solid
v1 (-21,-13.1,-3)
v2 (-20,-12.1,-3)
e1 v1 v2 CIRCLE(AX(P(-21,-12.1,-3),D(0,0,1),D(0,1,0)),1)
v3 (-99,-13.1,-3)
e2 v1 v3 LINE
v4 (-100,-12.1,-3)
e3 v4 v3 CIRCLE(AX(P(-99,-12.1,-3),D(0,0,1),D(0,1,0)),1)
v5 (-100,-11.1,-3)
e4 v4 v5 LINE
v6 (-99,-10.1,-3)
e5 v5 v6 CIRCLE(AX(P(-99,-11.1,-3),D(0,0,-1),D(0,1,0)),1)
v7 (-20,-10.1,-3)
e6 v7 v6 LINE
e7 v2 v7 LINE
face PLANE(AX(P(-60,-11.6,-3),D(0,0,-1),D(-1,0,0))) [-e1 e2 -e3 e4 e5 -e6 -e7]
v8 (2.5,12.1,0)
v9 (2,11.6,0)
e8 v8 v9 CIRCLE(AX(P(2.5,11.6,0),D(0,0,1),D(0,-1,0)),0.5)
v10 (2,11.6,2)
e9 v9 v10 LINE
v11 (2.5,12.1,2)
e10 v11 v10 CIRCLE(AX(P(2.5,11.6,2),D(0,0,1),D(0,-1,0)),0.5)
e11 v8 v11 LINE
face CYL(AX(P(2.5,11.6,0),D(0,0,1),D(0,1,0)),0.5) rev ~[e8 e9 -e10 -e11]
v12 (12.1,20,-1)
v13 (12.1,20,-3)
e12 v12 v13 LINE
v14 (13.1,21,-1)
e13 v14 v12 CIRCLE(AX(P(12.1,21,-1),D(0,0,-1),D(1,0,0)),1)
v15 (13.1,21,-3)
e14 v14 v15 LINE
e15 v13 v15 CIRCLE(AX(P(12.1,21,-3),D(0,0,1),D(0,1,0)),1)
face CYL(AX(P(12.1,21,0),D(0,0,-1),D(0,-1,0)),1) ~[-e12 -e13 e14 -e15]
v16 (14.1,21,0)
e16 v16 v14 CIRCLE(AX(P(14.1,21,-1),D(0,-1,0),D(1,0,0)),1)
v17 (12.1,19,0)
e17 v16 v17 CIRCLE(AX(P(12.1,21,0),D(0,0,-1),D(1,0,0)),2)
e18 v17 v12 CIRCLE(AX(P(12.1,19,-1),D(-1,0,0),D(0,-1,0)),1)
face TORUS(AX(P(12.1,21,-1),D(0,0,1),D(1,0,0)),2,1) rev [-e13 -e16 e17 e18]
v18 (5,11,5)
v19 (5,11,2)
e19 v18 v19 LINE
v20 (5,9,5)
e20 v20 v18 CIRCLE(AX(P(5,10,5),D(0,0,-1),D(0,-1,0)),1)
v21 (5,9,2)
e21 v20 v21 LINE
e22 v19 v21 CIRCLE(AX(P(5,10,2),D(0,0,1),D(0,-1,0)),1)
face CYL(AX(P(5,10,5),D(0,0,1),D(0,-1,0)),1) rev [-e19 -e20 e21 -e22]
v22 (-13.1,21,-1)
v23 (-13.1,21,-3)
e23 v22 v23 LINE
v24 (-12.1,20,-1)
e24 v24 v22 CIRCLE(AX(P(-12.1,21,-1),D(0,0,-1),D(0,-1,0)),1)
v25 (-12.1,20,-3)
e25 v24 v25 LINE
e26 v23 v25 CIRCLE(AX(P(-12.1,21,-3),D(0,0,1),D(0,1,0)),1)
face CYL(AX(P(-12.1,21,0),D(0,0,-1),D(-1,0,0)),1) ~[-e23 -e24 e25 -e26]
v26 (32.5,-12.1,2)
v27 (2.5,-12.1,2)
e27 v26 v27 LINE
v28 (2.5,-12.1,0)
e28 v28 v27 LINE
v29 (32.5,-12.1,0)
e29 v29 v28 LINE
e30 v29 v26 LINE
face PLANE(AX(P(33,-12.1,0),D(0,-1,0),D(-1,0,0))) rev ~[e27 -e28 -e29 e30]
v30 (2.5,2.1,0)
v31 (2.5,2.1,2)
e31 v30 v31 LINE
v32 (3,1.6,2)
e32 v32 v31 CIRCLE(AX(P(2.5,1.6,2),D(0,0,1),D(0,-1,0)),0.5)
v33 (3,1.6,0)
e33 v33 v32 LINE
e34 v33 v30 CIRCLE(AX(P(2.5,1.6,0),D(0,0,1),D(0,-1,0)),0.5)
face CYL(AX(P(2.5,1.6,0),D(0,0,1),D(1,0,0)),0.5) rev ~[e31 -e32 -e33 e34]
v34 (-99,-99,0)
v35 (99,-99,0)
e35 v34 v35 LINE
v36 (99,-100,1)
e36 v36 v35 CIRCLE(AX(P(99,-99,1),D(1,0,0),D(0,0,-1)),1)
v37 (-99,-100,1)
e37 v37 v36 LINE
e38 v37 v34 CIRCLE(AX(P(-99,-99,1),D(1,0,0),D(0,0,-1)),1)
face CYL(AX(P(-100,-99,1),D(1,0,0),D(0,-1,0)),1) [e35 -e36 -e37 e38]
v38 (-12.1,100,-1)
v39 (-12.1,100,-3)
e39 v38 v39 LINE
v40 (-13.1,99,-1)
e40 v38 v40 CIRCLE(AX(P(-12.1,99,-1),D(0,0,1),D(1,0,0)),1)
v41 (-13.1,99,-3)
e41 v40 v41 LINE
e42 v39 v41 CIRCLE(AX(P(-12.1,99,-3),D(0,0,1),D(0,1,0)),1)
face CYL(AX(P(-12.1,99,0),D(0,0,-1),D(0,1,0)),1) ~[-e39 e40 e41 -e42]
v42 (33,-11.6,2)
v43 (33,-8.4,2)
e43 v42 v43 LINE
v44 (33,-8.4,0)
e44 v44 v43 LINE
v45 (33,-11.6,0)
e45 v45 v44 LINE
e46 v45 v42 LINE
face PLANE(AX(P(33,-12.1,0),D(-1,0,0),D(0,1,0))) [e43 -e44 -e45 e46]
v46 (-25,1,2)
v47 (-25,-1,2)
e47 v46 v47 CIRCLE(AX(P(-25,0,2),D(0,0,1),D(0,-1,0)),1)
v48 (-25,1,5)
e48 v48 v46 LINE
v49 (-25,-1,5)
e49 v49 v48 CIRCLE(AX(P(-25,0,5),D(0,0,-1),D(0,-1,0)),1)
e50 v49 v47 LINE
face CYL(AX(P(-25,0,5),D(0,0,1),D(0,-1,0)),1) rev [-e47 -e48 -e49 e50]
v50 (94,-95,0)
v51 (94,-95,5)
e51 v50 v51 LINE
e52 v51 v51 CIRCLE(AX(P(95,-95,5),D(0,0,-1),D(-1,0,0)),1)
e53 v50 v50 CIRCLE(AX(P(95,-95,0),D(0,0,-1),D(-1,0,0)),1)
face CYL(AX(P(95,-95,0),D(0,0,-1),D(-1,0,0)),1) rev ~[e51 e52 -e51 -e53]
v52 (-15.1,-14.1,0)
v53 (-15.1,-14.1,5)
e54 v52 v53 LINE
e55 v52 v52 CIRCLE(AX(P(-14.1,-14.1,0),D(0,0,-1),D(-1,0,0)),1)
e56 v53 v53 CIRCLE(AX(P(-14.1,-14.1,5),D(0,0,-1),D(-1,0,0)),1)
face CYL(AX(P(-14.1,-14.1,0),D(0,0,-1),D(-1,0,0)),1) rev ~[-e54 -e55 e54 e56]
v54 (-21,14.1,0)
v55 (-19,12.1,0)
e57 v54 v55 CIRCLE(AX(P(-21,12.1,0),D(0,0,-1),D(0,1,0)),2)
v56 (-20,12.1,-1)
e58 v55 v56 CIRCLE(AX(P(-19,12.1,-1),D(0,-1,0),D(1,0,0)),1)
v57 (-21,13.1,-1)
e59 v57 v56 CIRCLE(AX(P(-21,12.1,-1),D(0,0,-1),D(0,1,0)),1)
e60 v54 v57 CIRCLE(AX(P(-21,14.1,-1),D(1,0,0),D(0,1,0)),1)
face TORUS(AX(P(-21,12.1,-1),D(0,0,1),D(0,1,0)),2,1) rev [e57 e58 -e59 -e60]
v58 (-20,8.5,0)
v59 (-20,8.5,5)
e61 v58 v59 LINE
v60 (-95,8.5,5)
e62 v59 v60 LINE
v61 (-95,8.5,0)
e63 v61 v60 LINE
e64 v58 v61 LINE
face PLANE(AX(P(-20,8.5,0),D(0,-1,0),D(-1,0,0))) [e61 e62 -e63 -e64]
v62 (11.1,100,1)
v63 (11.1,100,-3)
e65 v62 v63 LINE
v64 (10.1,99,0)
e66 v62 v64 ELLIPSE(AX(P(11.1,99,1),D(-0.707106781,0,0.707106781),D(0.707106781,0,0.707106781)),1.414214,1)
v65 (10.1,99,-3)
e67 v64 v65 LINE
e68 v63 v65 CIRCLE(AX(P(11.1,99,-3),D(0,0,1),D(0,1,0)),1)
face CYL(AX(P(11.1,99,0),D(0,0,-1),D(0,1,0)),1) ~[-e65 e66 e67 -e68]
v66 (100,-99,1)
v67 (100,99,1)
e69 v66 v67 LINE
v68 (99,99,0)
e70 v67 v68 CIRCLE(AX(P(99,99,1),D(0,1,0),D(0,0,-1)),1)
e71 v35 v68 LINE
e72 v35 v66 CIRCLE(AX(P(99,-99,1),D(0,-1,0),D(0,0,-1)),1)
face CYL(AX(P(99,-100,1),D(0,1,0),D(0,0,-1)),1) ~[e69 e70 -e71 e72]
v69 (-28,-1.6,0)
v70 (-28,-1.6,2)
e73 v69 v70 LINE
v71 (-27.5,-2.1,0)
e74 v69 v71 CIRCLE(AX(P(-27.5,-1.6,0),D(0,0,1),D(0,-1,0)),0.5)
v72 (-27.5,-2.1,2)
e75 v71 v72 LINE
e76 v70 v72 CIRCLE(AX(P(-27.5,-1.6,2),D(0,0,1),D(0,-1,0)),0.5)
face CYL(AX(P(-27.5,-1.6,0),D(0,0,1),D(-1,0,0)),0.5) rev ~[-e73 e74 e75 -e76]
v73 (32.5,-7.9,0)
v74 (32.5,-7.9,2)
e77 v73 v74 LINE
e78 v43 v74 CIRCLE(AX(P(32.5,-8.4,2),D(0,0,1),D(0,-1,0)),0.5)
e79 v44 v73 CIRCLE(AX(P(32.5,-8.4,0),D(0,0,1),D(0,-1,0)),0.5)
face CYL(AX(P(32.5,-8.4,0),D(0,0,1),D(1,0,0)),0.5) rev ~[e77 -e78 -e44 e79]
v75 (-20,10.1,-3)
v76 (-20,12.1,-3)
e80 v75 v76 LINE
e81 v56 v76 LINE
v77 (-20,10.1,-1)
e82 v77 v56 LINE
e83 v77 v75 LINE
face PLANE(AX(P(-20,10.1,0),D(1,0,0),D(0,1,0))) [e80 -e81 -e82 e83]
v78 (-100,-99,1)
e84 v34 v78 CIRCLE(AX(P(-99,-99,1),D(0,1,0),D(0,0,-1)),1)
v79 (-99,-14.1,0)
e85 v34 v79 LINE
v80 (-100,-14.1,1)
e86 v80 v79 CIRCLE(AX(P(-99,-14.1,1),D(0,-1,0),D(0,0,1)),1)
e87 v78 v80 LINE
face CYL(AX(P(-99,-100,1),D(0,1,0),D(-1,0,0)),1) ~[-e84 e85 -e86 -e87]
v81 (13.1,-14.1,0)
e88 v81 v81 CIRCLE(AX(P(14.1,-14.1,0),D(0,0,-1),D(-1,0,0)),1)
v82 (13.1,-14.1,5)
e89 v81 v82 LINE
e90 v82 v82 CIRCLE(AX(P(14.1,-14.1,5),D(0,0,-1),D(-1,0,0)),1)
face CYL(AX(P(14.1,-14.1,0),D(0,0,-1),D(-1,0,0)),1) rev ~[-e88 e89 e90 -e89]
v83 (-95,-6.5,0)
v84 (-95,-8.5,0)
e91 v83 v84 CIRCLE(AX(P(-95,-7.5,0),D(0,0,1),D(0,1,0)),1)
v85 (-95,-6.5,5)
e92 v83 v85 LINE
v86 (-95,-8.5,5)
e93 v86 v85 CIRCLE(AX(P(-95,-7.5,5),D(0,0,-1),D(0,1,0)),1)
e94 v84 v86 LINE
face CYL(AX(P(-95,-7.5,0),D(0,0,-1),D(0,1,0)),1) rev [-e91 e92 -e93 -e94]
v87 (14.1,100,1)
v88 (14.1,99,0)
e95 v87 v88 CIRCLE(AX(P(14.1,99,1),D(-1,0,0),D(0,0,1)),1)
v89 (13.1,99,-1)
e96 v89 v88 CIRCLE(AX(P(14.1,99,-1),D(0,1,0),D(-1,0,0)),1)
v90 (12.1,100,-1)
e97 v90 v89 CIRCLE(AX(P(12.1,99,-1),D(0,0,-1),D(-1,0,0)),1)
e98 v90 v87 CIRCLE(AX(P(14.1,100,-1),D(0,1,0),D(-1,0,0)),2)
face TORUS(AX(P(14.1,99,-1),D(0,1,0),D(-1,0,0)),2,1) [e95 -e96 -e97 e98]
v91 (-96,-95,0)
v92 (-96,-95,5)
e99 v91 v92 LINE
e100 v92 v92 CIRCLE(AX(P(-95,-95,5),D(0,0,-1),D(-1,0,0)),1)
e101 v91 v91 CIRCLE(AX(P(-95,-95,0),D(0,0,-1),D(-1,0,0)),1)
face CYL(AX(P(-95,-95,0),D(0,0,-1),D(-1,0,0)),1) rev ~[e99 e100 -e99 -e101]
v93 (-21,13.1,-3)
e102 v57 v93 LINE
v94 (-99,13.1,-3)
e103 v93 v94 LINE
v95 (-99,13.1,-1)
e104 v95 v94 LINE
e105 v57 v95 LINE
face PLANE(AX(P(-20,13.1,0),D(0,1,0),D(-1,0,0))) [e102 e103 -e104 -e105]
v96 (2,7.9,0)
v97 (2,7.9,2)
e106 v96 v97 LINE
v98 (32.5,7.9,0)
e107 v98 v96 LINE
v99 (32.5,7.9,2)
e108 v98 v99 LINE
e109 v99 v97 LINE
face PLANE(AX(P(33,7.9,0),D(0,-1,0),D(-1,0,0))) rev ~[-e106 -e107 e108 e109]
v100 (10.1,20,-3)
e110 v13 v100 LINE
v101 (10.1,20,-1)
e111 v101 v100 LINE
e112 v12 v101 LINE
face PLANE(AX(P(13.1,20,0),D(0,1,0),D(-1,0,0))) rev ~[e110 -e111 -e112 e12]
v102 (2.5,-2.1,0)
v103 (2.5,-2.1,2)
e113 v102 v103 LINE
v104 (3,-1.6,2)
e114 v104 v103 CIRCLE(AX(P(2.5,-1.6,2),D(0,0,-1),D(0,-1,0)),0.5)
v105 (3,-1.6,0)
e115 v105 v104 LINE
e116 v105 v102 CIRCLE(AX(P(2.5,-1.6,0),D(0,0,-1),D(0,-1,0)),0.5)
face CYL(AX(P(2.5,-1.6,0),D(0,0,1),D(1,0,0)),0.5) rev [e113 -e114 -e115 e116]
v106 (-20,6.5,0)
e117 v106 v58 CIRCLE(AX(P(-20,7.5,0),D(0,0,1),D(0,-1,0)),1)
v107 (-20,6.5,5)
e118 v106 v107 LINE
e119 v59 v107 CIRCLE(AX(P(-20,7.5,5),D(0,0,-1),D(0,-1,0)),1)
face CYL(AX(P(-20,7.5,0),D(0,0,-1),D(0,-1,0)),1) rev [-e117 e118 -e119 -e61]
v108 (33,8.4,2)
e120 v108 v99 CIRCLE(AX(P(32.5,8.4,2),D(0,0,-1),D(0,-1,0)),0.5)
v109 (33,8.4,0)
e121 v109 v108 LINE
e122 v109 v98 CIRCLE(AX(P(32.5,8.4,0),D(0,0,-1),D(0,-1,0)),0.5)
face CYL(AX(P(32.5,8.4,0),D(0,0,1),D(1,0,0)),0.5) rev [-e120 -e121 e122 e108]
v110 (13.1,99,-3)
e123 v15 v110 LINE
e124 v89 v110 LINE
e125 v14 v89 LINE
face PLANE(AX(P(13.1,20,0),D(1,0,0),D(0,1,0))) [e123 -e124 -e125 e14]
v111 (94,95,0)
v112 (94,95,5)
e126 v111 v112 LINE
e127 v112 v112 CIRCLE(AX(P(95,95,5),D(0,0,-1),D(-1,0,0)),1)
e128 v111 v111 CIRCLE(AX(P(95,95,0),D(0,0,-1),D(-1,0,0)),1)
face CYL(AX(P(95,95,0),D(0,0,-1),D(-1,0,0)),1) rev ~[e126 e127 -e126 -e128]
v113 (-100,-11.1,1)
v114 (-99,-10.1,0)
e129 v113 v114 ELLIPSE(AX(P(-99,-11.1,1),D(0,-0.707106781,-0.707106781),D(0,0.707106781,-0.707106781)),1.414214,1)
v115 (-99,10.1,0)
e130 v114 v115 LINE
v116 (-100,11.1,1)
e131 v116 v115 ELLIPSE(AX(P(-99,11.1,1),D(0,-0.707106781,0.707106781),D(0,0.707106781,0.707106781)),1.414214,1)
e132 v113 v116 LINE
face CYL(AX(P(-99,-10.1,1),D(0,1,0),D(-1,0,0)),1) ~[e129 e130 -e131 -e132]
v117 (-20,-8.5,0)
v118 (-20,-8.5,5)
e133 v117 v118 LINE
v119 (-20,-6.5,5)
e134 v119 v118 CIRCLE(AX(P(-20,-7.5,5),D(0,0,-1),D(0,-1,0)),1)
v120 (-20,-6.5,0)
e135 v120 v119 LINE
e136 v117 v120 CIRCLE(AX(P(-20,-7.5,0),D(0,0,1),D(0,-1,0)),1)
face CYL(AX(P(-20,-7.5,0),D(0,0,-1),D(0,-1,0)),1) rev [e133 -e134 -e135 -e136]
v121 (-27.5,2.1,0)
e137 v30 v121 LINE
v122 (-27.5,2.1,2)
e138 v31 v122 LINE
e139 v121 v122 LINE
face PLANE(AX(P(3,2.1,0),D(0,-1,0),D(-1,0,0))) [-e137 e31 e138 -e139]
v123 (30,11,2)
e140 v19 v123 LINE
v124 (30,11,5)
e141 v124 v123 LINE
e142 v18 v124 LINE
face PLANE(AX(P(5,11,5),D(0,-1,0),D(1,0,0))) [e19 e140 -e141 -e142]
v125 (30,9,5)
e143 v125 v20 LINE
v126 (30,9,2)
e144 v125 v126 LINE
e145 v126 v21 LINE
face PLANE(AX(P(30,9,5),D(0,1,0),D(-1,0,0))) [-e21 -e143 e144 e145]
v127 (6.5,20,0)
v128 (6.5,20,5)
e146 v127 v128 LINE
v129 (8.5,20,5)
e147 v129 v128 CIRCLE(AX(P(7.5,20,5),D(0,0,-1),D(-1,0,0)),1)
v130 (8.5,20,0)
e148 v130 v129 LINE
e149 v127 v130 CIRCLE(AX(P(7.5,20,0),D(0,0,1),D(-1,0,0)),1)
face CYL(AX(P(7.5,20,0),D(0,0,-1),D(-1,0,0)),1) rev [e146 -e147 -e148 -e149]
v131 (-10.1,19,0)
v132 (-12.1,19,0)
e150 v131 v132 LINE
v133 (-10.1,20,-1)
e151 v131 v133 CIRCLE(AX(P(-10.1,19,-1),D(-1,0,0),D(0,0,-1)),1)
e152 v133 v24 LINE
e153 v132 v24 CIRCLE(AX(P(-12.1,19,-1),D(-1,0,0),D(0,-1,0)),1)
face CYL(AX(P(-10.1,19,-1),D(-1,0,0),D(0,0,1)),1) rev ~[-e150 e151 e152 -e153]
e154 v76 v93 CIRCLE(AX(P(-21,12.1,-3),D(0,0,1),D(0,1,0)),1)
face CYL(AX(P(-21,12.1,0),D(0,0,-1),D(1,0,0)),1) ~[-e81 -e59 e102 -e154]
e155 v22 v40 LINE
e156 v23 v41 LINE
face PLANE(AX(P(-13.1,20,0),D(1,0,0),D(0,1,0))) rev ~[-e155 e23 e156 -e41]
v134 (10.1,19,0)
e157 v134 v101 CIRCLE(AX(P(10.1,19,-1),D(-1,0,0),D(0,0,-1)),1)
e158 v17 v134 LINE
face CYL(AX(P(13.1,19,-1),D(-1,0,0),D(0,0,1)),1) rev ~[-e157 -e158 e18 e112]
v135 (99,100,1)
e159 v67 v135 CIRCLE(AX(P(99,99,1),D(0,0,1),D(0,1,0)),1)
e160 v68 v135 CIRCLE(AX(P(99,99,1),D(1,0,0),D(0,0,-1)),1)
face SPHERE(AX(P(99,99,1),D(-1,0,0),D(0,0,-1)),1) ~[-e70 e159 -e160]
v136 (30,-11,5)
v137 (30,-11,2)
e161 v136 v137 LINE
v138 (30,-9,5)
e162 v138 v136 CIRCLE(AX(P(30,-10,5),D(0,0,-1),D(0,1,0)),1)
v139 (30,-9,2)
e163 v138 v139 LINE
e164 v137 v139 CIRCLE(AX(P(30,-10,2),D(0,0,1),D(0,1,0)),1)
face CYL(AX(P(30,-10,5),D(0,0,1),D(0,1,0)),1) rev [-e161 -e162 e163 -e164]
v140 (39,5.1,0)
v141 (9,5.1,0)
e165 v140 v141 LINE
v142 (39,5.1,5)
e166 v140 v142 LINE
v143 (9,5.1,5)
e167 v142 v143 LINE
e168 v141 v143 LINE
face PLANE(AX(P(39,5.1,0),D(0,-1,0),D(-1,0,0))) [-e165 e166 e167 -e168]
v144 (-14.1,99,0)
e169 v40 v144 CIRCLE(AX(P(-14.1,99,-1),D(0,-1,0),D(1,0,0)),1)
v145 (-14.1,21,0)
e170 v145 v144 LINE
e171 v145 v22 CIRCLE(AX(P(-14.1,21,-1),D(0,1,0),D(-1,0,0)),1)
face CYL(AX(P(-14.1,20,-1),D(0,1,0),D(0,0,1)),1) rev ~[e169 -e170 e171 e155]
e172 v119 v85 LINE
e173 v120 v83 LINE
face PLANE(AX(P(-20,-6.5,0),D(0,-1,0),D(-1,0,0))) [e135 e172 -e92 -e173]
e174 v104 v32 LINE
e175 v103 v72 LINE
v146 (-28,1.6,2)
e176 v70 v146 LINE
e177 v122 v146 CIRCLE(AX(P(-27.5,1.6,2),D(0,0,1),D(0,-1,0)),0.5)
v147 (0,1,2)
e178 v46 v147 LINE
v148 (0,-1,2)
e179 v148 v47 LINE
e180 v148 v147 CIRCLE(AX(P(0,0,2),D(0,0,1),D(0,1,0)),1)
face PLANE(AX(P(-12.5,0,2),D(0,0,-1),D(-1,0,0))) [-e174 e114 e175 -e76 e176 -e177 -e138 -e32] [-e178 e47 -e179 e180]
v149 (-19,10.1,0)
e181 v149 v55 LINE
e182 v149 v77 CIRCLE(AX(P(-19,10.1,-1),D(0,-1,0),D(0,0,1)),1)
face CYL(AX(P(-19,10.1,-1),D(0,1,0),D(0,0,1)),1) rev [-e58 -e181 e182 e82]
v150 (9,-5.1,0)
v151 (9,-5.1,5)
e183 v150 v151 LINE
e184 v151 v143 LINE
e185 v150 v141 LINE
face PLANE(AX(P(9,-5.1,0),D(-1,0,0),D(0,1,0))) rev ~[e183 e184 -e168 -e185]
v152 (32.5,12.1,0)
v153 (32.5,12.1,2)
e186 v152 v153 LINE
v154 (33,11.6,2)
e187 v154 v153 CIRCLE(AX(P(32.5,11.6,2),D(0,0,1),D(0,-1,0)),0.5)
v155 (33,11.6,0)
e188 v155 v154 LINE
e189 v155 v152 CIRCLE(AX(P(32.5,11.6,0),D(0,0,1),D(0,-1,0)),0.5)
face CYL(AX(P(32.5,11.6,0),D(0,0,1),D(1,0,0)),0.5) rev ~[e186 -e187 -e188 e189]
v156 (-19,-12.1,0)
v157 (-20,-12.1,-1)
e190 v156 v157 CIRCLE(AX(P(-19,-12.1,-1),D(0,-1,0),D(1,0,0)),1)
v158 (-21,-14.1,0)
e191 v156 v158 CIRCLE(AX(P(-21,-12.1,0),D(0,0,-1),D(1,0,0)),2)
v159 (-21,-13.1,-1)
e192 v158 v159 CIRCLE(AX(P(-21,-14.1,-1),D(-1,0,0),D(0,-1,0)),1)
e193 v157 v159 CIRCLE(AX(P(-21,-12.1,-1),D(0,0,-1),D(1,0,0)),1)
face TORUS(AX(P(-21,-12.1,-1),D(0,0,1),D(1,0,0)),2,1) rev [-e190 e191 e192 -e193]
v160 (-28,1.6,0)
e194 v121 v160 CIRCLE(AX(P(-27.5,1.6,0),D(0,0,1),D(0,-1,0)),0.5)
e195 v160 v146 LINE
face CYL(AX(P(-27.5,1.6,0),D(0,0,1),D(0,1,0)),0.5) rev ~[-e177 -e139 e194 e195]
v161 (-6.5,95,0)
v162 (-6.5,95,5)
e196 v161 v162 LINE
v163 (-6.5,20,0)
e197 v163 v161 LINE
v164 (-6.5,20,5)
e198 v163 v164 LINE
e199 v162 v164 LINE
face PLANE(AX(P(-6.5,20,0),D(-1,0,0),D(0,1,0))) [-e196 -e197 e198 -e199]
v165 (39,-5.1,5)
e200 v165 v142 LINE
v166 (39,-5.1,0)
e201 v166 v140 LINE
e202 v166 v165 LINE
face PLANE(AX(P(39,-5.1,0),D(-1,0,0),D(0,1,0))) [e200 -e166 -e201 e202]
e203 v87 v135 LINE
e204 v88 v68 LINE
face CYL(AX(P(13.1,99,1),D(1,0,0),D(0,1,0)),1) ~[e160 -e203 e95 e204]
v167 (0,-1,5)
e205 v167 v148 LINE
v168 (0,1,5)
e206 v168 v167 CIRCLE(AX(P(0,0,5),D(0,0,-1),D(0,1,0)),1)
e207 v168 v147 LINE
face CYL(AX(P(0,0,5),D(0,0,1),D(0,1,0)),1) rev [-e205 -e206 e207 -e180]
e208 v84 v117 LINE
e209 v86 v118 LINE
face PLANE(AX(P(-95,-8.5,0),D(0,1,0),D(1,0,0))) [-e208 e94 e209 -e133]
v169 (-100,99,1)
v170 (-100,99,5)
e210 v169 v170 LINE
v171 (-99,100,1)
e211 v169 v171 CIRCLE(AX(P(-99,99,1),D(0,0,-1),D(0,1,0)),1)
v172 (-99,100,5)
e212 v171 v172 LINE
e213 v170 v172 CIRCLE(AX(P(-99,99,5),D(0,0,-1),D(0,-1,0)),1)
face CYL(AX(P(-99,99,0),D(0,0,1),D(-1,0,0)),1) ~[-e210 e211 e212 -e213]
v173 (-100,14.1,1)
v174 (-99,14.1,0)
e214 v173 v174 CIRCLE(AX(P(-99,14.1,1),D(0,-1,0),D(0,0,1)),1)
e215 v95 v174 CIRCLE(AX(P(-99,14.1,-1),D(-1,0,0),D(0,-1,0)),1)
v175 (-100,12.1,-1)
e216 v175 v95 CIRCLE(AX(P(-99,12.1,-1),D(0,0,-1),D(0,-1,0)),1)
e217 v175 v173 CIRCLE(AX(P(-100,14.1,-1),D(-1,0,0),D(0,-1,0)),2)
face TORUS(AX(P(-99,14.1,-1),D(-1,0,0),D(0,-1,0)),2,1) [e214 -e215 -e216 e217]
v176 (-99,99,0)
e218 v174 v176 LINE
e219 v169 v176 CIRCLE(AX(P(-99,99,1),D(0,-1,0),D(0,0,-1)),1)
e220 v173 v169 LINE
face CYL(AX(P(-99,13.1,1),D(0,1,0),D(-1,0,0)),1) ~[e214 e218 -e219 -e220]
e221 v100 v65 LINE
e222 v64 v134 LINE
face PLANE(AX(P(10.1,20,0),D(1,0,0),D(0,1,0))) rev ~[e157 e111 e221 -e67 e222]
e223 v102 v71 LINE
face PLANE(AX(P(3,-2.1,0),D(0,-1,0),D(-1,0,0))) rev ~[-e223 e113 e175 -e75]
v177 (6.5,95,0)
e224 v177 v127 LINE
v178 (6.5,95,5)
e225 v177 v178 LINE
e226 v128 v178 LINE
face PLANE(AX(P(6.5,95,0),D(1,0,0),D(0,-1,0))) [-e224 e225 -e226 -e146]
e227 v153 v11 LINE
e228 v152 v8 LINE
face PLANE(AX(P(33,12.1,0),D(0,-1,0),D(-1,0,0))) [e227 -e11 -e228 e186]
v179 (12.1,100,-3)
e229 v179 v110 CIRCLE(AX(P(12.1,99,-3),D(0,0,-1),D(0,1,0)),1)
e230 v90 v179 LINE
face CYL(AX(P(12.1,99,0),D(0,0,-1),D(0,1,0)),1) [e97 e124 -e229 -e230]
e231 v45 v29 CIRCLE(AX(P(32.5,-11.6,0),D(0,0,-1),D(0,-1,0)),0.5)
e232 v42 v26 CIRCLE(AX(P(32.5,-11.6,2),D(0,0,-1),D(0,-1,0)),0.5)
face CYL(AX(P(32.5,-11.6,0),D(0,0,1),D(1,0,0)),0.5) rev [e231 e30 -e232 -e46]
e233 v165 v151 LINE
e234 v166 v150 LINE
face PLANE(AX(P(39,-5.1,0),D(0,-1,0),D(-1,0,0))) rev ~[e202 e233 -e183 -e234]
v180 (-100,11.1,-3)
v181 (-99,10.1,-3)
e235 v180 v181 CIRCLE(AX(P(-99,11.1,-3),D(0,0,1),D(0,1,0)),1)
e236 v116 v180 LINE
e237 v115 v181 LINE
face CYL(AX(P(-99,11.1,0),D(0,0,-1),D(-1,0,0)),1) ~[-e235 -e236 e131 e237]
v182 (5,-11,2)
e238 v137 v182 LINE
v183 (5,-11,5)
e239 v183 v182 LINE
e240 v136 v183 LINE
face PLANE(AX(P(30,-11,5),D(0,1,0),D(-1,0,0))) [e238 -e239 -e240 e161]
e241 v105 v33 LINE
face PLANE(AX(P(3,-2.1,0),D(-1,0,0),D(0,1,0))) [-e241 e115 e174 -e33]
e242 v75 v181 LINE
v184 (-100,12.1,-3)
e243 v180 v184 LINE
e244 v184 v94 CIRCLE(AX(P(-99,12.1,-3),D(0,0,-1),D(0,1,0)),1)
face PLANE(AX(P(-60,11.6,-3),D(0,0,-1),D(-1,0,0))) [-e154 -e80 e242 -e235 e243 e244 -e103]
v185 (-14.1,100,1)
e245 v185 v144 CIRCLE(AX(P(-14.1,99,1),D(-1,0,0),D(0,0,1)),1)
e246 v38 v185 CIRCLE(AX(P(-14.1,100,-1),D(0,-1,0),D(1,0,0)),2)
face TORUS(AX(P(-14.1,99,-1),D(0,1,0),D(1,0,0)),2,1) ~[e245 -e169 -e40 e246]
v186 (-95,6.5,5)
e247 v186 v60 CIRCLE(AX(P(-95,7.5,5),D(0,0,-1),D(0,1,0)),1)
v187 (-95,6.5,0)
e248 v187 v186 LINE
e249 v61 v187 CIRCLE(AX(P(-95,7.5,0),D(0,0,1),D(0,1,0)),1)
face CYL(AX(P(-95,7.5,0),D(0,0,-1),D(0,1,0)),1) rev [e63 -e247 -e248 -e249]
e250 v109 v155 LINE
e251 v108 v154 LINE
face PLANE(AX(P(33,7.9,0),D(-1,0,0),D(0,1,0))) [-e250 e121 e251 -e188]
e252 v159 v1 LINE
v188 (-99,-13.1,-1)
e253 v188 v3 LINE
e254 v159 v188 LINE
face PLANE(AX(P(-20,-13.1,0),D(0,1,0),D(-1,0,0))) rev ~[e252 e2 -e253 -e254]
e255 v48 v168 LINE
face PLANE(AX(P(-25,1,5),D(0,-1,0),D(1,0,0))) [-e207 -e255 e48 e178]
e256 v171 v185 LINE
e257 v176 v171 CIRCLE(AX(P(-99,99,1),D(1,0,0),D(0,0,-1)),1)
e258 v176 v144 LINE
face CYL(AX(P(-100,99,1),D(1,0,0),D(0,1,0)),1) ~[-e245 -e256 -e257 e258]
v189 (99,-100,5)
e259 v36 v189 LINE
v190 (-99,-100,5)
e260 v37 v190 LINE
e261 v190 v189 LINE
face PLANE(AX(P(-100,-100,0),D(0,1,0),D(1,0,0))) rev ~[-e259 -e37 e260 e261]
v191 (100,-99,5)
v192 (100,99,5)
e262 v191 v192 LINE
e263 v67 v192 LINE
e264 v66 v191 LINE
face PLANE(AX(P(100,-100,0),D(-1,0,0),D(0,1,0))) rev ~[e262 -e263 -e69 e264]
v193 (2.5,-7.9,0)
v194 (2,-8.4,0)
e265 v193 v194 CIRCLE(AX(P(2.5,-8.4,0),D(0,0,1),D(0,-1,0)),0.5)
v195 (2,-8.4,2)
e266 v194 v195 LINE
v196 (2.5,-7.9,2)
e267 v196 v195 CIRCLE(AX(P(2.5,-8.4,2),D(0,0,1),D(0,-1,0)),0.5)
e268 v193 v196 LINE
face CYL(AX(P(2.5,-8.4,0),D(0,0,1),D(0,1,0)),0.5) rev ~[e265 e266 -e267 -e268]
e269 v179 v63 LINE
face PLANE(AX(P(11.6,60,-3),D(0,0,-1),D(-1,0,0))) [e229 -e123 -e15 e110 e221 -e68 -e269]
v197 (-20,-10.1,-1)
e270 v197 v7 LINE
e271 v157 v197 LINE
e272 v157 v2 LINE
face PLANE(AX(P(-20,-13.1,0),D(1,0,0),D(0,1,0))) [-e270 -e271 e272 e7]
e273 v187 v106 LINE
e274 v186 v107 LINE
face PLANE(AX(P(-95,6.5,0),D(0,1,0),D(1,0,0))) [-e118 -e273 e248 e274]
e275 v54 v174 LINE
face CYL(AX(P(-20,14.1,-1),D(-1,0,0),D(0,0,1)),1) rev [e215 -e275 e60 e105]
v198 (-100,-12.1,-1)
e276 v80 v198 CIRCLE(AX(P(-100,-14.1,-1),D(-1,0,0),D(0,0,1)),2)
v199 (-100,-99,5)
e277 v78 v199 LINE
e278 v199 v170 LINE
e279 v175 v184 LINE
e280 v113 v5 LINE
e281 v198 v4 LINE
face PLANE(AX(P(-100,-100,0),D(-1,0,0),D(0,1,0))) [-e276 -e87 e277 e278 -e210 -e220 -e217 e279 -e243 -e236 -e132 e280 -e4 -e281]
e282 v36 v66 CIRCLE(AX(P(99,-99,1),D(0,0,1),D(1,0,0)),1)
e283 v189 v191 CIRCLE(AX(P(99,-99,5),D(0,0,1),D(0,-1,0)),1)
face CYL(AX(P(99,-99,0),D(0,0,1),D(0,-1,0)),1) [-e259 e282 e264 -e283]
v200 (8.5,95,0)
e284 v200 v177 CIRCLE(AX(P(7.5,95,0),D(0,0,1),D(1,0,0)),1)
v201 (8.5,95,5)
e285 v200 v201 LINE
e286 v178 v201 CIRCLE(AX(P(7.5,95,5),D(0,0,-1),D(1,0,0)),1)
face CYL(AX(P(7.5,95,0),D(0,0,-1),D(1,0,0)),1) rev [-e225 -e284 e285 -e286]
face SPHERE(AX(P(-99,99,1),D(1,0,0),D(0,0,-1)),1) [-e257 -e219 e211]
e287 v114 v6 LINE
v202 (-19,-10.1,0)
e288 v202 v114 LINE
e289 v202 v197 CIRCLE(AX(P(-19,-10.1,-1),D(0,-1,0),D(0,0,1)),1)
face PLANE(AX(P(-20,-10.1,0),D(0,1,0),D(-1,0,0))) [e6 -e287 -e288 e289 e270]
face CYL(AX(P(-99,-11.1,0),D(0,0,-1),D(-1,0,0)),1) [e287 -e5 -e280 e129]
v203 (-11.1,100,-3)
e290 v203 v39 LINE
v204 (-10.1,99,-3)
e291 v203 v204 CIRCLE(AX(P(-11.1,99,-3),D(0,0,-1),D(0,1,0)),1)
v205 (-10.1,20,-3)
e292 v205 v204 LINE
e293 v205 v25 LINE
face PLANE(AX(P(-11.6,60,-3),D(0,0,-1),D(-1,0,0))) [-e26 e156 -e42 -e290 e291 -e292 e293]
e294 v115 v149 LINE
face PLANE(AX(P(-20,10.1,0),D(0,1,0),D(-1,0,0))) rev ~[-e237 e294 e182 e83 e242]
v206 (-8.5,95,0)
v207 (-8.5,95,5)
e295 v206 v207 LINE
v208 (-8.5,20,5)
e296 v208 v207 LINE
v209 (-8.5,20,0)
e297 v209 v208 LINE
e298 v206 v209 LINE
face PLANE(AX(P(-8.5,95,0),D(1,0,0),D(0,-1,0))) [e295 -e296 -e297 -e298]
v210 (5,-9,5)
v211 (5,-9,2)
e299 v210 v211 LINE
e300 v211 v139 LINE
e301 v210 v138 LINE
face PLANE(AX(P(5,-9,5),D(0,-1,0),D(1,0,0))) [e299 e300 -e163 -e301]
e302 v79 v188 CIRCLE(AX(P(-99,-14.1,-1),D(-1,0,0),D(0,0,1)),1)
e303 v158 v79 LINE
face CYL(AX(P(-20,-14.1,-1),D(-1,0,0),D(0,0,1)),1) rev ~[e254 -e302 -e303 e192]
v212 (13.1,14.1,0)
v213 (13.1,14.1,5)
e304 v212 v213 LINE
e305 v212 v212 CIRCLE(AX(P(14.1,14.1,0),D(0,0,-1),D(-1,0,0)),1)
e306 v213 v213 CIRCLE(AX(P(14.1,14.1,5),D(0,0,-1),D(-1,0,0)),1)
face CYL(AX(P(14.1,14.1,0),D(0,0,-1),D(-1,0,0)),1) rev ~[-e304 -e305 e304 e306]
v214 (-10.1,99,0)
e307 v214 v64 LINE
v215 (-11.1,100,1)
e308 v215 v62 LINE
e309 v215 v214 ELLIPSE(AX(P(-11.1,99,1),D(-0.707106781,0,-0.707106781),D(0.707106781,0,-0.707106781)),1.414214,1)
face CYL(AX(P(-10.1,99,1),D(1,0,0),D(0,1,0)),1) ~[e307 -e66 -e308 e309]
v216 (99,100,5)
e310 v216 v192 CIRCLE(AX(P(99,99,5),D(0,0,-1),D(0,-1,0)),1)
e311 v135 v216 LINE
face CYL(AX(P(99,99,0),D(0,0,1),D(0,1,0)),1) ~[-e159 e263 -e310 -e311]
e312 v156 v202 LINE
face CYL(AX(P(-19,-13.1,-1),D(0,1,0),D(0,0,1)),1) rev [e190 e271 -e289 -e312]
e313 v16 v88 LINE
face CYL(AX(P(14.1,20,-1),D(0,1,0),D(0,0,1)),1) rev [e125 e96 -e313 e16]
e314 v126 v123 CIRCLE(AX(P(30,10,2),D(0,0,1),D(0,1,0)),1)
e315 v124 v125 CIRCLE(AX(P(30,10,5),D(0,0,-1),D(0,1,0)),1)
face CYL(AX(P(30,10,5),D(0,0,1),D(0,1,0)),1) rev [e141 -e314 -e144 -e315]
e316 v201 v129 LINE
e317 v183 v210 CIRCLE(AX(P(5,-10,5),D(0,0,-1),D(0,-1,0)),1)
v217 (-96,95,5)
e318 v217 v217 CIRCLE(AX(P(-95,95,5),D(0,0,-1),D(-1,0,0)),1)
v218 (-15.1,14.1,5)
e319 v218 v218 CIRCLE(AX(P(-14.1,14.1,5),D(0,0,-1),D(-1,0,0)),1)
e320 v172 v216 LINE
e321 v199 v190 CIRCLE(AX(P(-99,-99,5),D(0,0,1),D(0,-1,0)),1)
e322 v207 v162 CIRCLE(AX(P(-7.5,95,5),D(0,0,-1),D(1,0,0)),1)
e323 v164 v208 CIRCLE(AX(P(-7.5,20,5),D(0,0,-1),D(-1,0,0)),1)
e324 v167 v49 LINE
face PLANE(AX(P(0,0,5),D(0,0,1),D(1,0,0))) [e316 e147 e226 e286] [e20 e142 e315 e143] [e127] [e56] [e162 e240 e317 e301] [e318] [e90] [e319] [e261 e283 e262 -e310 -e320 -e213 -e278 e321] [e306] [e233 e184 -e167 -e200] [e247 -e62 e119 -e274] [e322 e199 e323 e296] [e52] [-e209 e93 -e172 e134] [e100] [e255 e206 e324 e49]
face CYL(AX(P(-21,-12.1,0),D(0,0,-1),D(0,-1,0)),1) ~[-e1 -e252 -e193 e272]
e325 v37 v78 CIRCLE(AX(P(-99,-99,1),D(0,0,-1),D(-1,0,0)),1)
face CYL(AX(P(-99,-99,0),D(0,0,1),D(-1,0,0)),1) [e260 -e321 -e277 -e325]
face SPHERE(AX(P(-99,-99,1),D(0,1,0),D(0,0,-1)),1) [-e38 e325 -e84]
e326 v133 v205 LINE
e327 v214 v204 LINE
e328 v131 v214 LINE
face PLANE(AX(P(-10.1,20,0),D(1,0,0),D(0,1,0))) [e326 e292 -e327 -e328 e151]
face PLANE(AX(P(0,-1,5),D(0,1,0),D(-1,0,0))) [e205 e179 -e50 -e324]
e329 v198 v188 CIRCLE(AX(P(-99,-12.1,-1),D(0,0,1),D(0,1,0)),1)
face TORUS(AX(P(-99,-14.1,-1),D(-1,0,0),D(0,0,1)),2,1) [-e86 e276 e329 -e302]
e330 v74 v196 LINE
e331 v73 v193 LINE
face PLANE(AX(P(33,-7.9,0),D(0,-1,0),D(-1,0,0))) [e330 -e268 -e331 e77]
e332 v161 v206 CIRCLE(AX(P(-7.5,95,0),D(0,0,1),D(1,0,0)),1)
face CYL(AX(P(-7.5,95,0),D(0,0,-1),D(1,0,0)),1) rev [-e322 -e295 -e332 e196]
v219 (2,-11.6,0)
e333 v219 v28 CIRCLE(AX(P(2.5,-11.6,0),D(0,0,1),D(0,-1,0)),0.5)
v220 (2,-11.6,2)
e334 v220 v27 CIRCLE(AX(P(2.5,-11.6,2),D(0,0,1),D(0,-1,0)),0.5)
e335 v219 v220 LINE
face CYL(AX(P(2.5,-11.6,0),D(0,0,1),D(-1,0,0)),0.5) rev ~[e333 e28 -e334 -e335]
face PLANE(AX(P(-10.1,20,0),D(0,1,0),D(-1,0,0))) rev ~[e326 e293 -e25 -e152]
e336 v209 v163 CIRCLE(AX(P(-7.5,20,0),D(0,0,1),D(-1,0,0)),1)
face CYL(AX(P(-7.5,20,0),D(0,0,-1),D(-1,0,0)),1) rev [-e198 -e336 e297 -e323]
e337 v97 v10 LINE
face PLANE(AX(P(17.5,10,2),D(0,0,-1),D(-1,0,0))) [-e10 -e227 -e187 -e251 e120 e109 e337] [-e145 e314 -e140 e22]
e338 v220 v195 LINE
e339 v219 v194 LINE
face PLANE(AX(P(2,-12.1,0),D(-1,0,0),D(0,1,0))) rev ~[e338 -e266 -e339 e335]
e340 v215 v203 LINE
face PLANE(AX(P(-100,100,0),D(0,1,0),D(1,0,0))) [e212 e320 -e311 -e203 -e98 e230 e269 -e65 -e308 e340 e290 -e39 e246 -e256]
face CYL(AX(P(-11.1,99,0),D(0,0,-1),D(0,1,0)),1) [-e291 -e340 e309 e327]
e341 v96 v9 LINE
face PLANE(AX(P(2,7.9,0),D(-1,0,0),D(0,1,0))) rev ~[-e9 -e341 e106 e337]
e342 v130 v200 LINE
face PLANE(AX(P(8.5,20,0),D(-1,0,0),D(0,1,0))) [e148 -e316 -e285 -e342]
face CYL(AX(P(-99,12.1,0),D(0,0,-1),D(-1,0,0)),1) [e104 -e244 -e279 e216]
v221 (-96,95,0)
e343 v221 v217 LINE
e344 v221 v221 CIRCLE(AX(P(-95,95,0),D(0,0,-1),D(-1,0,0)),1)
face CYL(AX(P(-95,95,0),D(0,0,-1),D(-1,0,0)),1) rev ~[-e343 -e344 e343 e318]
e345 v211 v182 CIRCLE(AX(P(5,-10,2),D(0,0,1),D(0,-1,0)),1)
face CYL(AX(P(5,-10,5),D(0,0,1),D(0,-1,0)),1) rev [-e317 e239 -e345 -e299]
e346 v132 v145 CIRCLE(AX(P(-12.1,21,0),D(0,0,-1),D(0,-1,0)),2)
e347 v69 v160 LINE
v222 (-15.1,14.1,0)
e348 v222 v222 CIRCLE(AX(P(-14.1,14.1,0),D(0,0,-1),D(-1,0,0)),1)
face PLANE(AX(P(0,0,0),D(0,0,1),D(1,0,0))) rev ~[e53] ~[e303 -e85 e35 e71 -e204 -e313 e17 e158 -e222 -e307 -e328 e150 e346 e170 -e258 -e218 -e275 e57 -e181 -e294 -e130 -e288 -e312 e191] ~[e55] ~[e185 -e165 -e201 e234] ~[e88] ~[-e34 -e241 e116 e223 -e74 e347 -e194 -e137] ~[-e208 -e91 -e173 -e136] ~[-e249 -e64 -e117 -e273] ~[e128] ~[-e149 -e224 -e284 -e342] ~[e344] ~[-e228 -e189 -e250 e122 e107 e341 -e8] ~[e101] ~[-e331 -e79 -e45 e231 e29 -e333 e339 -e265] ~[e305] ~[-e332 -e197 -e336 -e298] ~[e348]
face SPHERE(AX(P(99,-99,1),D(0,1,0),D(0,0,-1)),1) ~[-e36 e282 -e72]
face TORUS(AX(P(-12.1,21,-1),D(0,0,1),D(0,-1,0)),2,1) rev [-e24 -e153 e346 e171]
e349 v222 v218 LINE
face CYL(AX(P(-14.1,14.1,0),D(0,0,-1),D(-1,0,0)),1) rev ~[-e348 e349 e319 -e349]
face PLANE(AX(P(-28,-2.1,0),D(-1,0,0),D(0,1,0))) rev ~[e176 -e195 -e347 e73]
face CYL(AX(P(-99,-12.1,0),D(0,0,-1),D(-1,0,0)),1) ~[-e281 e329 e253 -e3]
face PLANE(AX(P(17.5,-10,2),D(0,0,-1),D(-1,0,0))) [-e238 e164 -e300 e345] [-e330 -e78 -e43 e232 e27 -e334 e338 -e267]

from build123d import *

# Parameters (mm, degrees)
ESQUISSE1_W             = 200
ESQUISSE1_H             = 200
BOSS_EXTRU_1_DEPTH      = 5
ESQUISSE2_W             = 80
ESQUISSE2_H             = 3
ESQUISSE2_W_2           = 3
ESQUISSE2_H_2           = 80
BOSS_EXTRU_2_DEPTH      = 3
CONG_1_R                = 1
ENL_V_MAT_EXTRU_1_REACH = 7
ESQUISSE4_R             = 1
ENL_V_MAT_EXTRU_2_DEPTH = 6
ENL_V_MAT_EXTRU_3_REACH = 7
ENL_V_MAT_EXTRU_5_REACH = 10
ENL_V_MAT_EXTRU_7_REACH = 7
ESQUISSE11_W            = 30
ESQUISSE11_H            = 10.2
ESQUISSE12_W            = 31
ESQUISSE12_H            = 4.2
ENL_V_MAT_EXTRU_9_DEPTH = 2
CONG_2_R                = 0.5


with BuildPart() as part:
    # Esquisse1 → Boss.-Extru.1 (new body)
    with BuildSketch(Plane.XY):
        Rectangle(ESQUISSE1_W, ESQUISSE1_H)
    extrude(amount=BOSS_EXTRU_1_DEPTH)

    # Esquisse2 → Boss.-Extru.2 (add)
    with BuildSketch(Plane(origin=(0, 0, 0), x_dir=(-1, 0, 0), z_dir=(0, 0, -1))):
        with Locations((60, 11.6)):
            Rectangle(ESQUISSE2_W, ESQUISSE2_H)
        with Locations((60, -11.6)):
            Rectangle(ESQUISSE2_W, ESQUISSE2_H)
        with Locations((11.6, 60)):
            Rectangle(ESQUISSE2_W_2, ESQUISSE2_H_2)
        with Locations((-11.6, 60)):
            Rectangle(ESQUISSE2_W_2, ESQUISSE2_H_2)
    extrude(amount=BOSS_EXTRU_2_DEPTH)

    # Congé1
    cong_1_edges = [part.edges().sort_by_distance(p)[0] for p in [
        (-100, 0, 0),
        (-60, 13.1, 0),
        (-100, 13.1, -1.5),
        (-20, 11.6, 0),
        (-20, 13.1, -1.5),
        (-100, 10.1, -1.5),
        (-100, -56.55, 0),
        (-100, -13.1, -1.5),
        (-100, -10.1, -1.5),
        (-20, -11.6, 0),
        (-60, -13.1, 0),
        (-20, -13.1, -1.5),
        (-56.55, 100, 0),
        (-11.6, 20, 0),
        (-13.1, 60, 0),
        (-13.1, 20, -1.5),
        (-13.1, 100, -1.5),
        (-10.1, 100, -1.5),
        (56.55, 100, 0),
        (100, 0, 0),
        (0, -100, 0),
        (-100, 56.55, 0),
        (-100, 100, 2.5),
        (100, 100, 2.5),
        (100, -100, 2.5),
        (-100, -100, 2.5),
        (0, 100, 0),
        (11.6, 20, 0),
        (13.1, 20, -1.5),
        (10.1, 100, -1.5),
        (13.1, 60, 0),
        (13.1, 100, -1.5),
    ]]
    fillet(cong_1_edges, radius=CONG_1_R)

    # Esquisse4 → Enlèv. mat.-Extru.1 (cut, up to next)
    with BuildSketch(Plane(origin=(0, 0, 0), x_dir=(-1, 0, 0), z_dir=(0, 0, -1)), mode=Mode.PRIVATE) as enl_v_mat_extru_1_sk1:
        with Locations((-14.1, 14.1)):
            Circle(ESQUISSE4_R)
    enl_v_mat_extru_1_tool1 = extrude(enl_v_mat_extru_1_sk1.sketch, amount=-ENL_V_MAT_EXTRU_1_REACH, mode=Mode.PRIVATE) & part.part
    add(enl_v_mat_extru_1_tool1.solids().sort_by_distance((14.1, 14.1, 0))[0], mode=Mode.SUBTRACT)
    # Esquisse4 → Enlèv. mat.-Extru.1 (cut, up to next)
    with BuildSketch(Plane(origin=(0, 0, 0), x_dir=(-1, 0, 0), z_dir=(0, 0, -1)), mode=Mode.PRIVATE) as enl_v_mat_extru_1_sk2:
        with Locations((14.1, 14.1)):
            Circle(ESQUISSE4_R)
    enl_v_mat_extru_1_tool2 = extrude(enl_v_mat_extru_1_sk2.sketch, amount=-ENL_V_MAT_EXTRU_1_REACH, mode=Mode.PRIVATE) & part.part
    add(enl_v_mat_extru_1_tool2.solids().sort_by_distance((-14.1, 14.1, 0))[0], mode=Mode.SUBTRACT)
    # Esquisse4 → Enlèv. mat.-Extru.1 (cut, up to next)
    with BuildSketch(Plane(origin=(0, 0, 0), x_dir=(-1, 0, 0), z_dir=(0, 0, -1)), mode=Mode.PRIVATE) as enl_v_mat_extru_1_sk3:
        with Locations((14.1, -14.1)):
            Circle(ESQUISSE4_R)
    enl_v_mat_extru_1_tool3 = extrude(enl_v_mat_extru_1_sk3.sketch, amount=-ENL_V_MAT_EXTRU_1_REACH, mode=Mode.PRIVATE) & part.part
    add(enl_v_mat_extru_1_tool3.solids().sort_by_distance((-14.1, -14.1, 0))[0], mode=Mode.SUBTRACT)
    # Esquisse4 → Enlèv. mat.-Extru.1 (cut, up to next)
    with BuildSketch(Plane(origin=(0, 0, 0), x_dir=(-1, 0, 0), z_dir=(0, 0, -1)), mode=Mode.PRIVATE) as enl_v_mat_extru_1_sk4:
        with Locations((-14.1, -14.1)):
            Circle(ESQUISSE4_R)
    enl_v_mat_extru_1_tool4 = extrude(enl_v_mat_extru_1_sk4.sketch, amount=-ENL_V_MAT_EXTRU_1_REACH, mode=Mode.PRIVATE) & part.part
    add(enl_v_mat_extru_1_tool4.solids().sort_by_distance((14.1, -14.1, 0))[0], mode=Mode.SUBTRACT)
    # Esquisse4 → Enlèv. mat.-Extru.1 (cut, up to next)
    with BuildSketch(Plane(origin=(0, 0, 0), x_dir=(-1, 0, 0), z_dir=(0, 0, -1)), mode=Mode.PRIVATE) as enl_v_mat_extru_1_sk5:
        with Locations((-95, -95)):
            Circle(ESQUISSE4_R)
    enl_v_mat_extru_1_tool5 = extrude(enl_v_mat_extru_1_sk5.sketch, amount=-ENL_V_MAT_EXTRU_1_REACH, mode=Mode.PRIVATE) & part.part
    add(enl_v_mat_extru_1_tool5.solids().sort_by_distance((95, -95, 0))[0], mode=Mode.SUBTRACT)
    # Esquisse4 → Enlèv. mat.-Extru.1 (cut, up to next)
    with BuildSketch(Plane(origin=(0, 0, 0), x_dir=(-1, 0, 0), z_dir=(0, 0, -1)), mode=Mode.PRIVATE) as enl_v_mat_extru_1_sk6:
        with Locations((-95, 95)):
            Circle(ESQUISSE4_R)
    enl_v_mat_extru_1_tool6 = extrude(enl_v_mat_extru_1_sk6.sketch, amount=-ENL_V_MAT_EXTRU_1_REACH, mode=Mode.PRIVATE) & part.part
    add(enl_v_mat_extru_1_tool6.solids().sort_by_distance((95, 95, 0))[0], mode=Mode.SUBTRACT)
    # Esquisse4 → Enlèv. mat.-Extru.1 (cut, up to next)
    with BuildSketch(Plane(origin=(0, 0, 0), x_dir=(-1, 0, 0), z_dir=(0, 0, -1)), mode=Mode.PRIVATE) as enl_v_mat_extru_1_sk7:
        with Locations((95, -95)):
            Circle(ESQUISSE4_R)
    enl_v_mat_extru_1_tool7 = extrude(enl_v_mat_extru_1_sk7.sketch, amount=-ENL_V_MAT_EXTRU_1_REACH, mode=Mode.PRIVATE) & part.part
    add(enl_v_mat_extru_1_tool7.solids().sort_by_distance((-95, -95, 0))[0], mode=Mode.SUBTRACT)
    # Esquisse4 → Enlèv. mat.-Extru.1 (cut, up to next)
    with BuildSketch(Plane(origin=(0, 0, 0), x_dir=(-1, 0, 0), z_dir=(0, 0, -1)), mode=Mode.PRIVATE) as enl_v_mat_extru_1_sk8:
        with Locations((95, 95)):
            Circle(ESQUISSE4_R)
    enl_v_mat_extru_1_tool8 = extrude(enl_v_mat_extru_1_sk8.sketch, amount=-ENL_V_MAT_EXTRU_1_REACH, mode=Mode.PRIVATE) & part.part
    add(enl_v_mat_extru_1_tool8.solids().sort_by_distance((-95, 95, 0))[0], mode=Mode.SUBTRACT)

    # Esquisse5 → Enlèv. mat.-Extru.2 (cut, through all)
    with BuildSketch(Plane(origin=(0, 0, 0), x_dir=(-1, 0, 0), z_dir=(0, 0, -1))):
        with BuildLine():
            Line((-6.5, 95), (-6.5, 20))
            ThreePointArc((-6.5, 20), (-7.5, 19), (-8.5, 20))
            Line((-8.5, 20), (-8.5, 95))
            ThreePointArc((-8.5, 95), (-7.5, 96), (-6.5, 95))
        make_face()
        with BuildLine():
            Line((8.5, 95), (8.5, 20))
            ThreePointArc((8.5, 20), (7.5, 19), (6.5, 20))
            Line((6.5, 20), (6.5, 95))
            ThreePointArc((6.5, 95), (7.5, 96), (8.5, 95))
        make_face()
    extrude(amount=-ENL_V_MAT_EXTRU_2_DEPTH, mode=Mode.SUBTRACT)

    # Esquisse6 → Enlèv. mat.-Extru.3 (cut, up to next)
    with BuildSketch(Plane(origin=(0, 0, 0), x_dir=(-1, 0, 0), z_dir=(0, 0, -1)), mode=Mode.PRIVATE) as enl_v_mat_extru_3_sk1:
        with BuildLine():
            Line((95, -8.5), (20, -8.5))
            ThreePointArc((20, -8.5), (19, -7.5), (20, -6.5))
            Line((20, -6.5), (95, -6.5))
            ThreePointArc((95, -6.5), (96, -7.5), (95, -8.5))
        make_face()
    enl_v_mat_extru_3_tool1 = extrude(enl_v_mat_extru_3_sk1.sketch, amount=-ENL_V_MAT_EXTRU_3_REACH, mode=Mode.PRIVATE) & part.part
    add(enl_v_mat_extru_3_tool1.solids().sort_by_distance((-57.5, -7.5, 0))[0], mode=Mode.SUBTRACT)
    # Esquisse6 → Enlèv. mat.-Extru.3 (cut, up to next)
    with BuildSketch(Plane(origin=(0, 0, 0), x_dir=(-1, 0, 0), z_dir=(0, 0, -1)), mode=Mode.PRIVATE) as enl_v_mat_extru_3_sk2:
        with BuildLine():
            Line((20, 8.5), (95, 8.5))
            ThreePointArc((95, 8.5), (96, 7.5), (95, 6.5))
            Line((95, 6.5), (20, 6.5))
            ThreePointArc((20, 6.5), (19, 7.5), (20, 8.5))
        make_face()
    enl_v_mat_extru_3_tool2 = extrude(enl_v_mat_extru_3_sk2.sketch, amount=-ENL_V_MAT_EXTRU_3_REACH, mode=Mode.PRIVATE) & part.part
    add(enl_v_mat_extru_3_tool2.solids().sort_by_distance((-57.5, 7.5, 0))[0], mode=Mode.SUBTRACT)

    # Esquisse9 → Enlèv. mat.-Extru.5 (cut, up to next)
    with BuildSketch(Plane.XY.offset(5), mode=Mode.PRIVATE) as enl_v_mat_extru_5_sk1:
        with BuildLine():
            Line((-25, 1), (0, 1))
            ThreePointArc((0, 1), (1, 0), (0, -1))
            Line((0, -1), (-25, -1))
            ThreePointArc((-25, -1), (-26, 0), (-25, 1))
        make_face()
    enl_v_mat_extru_5_tool1 = extrude(enl_v_mat_extru_5_sk1.sketch, amount=-ENL_V_MAT_EXTRU_5_REACH, mode=Mode.PRIVATE) & part.part
    add(enl_v_mat_extru_5_tool1.solids().sort_by_distance((-12.5, 0, 5))[0], mode=Mode.SUBTRACT)
    # Esquisse9 → Enlèv. mat.-Extru.5 (cut, up to next)
    with BuildSketch(Plane.XY.offset(5), mode=Mode.PRIVATE) as enl_v_mat_extru_5_sk2:
        with BuildLine():
            Line((5, 11), (30, 11))
            ThreePointArc((30, 11), (31, 10), (30, 9))
            Line((30, 9), (5, 9))
            ThreePointArc((5, 9), (4, 10), (5, 11))
        make_face()
    enl_v_mat_extru_5_tool2 = extrude(enl_v_mat_extru_5_sk2.sketch, amount=-ENL_V_MAT_EXTRU_5_REACH, mode=Mode.PRIVATE) & part.part
    add(enl_v_mat_extru_5_tool2.solids().sort_by_distance((17.5, 10, 5))[0], mode=Mode.SUBTRACT)
    # Esquisse9 → Enlèv. mat.-Extru.5 (cut, up to next)
    with BuildSketch(Plane.XY.offset(5), mode=Mode.PRIVATE) as enl_v_mat_extru_5_sk3:
        with BuildLine():
            Line((5, -9), (30, -9))
            ThreePointArc((30, -9), (31, -10), (30, -11))
            Line((30, -11), (5, -11))
            ThreePointArc((5, -11), (4, -10), (5, -9))
        make_face()
    enl_v_mat_extru_5_tool3 = extrude(enl_v_mat_extru_5_sk3.sketch, amount=-ENL_V_MAT_EXTRU_5_REACH, mode=Mode.PRIVATE) & part.part
    add(enl_v_mat_extru_5_tool3.solids().sort_by_distance((17.5, -10, 5))[0], mode=Mode.SUBTRACT)

    # Esquisse11 → Enlèv. mat.-Extru.7 (cut, up to next)
    with BuildSketch(Plane(origin=(0, 0, 0), x_dir=(-1, 0, 0), z_dir=(0, 0, -1)), mode=Mode.PRIVATE) as enl_v_mat_extru_7_sk1:
        with Locations((-24, 0)):
            Rectangle(ESQUISSE11_W, ESQUISSE11_H)
    enl_v_mat_extru_7_tool1 = extrude(enl_v_mat_extru_7_sk1.sketch, amount=-ENL_V_MAT_EXTRU_7_REACH, mode=Mode.PRIVATE) & part.part
    add(enl_v_mat_extru_7_tool1.solids().sort_by_distance((24, 0, 0))[0], mode=Mode.SUBTRACT)

    # Esquisse12 → Enlèv. mat.-Extru.9 (cut)
    with BuildSketch(Plane(origin=(0, 0, 0), x_dir=(-1, 0, 0), z_dir=(0, 0, -1))):
        with Locations((-17.5, 10)):
            Rectangle(ESQUISSE12_W, ESQUISSE12_H)
        with Locations((-17.5, -10)):
            Rectangle(ESQUISSE12_W, ESQUISSE12_H)
        with Locations((12.5, 0)):
            Rectangle(ESQUISSE12_W, ESQUISSE12_H)
    extrude(amount=-ENL_V_MAT_EXTRU_9_DEPTH, mode=Mode.SUBTRACT)

    # Congé2
    cong_2_edges = [part.edges().sort_by_distance(p)[0] for p in [
        (33, 7.9, 1),
        (33, 12.1, 1),
        (2, 12.1, 1),
        (33, -12.1, 1),
        (33, -7.9, 1),
        (2, -7.9, 1),
        (2, -12.1, 1),
        (3, -2.1, 1),
        (3, 2.1, 1),
        (-28, 2.1, 1),
        (-28, -2.1, 1),
    ]]
    fillet(cong_2_edges, radius=CONG_2_R)


solid = part.part
